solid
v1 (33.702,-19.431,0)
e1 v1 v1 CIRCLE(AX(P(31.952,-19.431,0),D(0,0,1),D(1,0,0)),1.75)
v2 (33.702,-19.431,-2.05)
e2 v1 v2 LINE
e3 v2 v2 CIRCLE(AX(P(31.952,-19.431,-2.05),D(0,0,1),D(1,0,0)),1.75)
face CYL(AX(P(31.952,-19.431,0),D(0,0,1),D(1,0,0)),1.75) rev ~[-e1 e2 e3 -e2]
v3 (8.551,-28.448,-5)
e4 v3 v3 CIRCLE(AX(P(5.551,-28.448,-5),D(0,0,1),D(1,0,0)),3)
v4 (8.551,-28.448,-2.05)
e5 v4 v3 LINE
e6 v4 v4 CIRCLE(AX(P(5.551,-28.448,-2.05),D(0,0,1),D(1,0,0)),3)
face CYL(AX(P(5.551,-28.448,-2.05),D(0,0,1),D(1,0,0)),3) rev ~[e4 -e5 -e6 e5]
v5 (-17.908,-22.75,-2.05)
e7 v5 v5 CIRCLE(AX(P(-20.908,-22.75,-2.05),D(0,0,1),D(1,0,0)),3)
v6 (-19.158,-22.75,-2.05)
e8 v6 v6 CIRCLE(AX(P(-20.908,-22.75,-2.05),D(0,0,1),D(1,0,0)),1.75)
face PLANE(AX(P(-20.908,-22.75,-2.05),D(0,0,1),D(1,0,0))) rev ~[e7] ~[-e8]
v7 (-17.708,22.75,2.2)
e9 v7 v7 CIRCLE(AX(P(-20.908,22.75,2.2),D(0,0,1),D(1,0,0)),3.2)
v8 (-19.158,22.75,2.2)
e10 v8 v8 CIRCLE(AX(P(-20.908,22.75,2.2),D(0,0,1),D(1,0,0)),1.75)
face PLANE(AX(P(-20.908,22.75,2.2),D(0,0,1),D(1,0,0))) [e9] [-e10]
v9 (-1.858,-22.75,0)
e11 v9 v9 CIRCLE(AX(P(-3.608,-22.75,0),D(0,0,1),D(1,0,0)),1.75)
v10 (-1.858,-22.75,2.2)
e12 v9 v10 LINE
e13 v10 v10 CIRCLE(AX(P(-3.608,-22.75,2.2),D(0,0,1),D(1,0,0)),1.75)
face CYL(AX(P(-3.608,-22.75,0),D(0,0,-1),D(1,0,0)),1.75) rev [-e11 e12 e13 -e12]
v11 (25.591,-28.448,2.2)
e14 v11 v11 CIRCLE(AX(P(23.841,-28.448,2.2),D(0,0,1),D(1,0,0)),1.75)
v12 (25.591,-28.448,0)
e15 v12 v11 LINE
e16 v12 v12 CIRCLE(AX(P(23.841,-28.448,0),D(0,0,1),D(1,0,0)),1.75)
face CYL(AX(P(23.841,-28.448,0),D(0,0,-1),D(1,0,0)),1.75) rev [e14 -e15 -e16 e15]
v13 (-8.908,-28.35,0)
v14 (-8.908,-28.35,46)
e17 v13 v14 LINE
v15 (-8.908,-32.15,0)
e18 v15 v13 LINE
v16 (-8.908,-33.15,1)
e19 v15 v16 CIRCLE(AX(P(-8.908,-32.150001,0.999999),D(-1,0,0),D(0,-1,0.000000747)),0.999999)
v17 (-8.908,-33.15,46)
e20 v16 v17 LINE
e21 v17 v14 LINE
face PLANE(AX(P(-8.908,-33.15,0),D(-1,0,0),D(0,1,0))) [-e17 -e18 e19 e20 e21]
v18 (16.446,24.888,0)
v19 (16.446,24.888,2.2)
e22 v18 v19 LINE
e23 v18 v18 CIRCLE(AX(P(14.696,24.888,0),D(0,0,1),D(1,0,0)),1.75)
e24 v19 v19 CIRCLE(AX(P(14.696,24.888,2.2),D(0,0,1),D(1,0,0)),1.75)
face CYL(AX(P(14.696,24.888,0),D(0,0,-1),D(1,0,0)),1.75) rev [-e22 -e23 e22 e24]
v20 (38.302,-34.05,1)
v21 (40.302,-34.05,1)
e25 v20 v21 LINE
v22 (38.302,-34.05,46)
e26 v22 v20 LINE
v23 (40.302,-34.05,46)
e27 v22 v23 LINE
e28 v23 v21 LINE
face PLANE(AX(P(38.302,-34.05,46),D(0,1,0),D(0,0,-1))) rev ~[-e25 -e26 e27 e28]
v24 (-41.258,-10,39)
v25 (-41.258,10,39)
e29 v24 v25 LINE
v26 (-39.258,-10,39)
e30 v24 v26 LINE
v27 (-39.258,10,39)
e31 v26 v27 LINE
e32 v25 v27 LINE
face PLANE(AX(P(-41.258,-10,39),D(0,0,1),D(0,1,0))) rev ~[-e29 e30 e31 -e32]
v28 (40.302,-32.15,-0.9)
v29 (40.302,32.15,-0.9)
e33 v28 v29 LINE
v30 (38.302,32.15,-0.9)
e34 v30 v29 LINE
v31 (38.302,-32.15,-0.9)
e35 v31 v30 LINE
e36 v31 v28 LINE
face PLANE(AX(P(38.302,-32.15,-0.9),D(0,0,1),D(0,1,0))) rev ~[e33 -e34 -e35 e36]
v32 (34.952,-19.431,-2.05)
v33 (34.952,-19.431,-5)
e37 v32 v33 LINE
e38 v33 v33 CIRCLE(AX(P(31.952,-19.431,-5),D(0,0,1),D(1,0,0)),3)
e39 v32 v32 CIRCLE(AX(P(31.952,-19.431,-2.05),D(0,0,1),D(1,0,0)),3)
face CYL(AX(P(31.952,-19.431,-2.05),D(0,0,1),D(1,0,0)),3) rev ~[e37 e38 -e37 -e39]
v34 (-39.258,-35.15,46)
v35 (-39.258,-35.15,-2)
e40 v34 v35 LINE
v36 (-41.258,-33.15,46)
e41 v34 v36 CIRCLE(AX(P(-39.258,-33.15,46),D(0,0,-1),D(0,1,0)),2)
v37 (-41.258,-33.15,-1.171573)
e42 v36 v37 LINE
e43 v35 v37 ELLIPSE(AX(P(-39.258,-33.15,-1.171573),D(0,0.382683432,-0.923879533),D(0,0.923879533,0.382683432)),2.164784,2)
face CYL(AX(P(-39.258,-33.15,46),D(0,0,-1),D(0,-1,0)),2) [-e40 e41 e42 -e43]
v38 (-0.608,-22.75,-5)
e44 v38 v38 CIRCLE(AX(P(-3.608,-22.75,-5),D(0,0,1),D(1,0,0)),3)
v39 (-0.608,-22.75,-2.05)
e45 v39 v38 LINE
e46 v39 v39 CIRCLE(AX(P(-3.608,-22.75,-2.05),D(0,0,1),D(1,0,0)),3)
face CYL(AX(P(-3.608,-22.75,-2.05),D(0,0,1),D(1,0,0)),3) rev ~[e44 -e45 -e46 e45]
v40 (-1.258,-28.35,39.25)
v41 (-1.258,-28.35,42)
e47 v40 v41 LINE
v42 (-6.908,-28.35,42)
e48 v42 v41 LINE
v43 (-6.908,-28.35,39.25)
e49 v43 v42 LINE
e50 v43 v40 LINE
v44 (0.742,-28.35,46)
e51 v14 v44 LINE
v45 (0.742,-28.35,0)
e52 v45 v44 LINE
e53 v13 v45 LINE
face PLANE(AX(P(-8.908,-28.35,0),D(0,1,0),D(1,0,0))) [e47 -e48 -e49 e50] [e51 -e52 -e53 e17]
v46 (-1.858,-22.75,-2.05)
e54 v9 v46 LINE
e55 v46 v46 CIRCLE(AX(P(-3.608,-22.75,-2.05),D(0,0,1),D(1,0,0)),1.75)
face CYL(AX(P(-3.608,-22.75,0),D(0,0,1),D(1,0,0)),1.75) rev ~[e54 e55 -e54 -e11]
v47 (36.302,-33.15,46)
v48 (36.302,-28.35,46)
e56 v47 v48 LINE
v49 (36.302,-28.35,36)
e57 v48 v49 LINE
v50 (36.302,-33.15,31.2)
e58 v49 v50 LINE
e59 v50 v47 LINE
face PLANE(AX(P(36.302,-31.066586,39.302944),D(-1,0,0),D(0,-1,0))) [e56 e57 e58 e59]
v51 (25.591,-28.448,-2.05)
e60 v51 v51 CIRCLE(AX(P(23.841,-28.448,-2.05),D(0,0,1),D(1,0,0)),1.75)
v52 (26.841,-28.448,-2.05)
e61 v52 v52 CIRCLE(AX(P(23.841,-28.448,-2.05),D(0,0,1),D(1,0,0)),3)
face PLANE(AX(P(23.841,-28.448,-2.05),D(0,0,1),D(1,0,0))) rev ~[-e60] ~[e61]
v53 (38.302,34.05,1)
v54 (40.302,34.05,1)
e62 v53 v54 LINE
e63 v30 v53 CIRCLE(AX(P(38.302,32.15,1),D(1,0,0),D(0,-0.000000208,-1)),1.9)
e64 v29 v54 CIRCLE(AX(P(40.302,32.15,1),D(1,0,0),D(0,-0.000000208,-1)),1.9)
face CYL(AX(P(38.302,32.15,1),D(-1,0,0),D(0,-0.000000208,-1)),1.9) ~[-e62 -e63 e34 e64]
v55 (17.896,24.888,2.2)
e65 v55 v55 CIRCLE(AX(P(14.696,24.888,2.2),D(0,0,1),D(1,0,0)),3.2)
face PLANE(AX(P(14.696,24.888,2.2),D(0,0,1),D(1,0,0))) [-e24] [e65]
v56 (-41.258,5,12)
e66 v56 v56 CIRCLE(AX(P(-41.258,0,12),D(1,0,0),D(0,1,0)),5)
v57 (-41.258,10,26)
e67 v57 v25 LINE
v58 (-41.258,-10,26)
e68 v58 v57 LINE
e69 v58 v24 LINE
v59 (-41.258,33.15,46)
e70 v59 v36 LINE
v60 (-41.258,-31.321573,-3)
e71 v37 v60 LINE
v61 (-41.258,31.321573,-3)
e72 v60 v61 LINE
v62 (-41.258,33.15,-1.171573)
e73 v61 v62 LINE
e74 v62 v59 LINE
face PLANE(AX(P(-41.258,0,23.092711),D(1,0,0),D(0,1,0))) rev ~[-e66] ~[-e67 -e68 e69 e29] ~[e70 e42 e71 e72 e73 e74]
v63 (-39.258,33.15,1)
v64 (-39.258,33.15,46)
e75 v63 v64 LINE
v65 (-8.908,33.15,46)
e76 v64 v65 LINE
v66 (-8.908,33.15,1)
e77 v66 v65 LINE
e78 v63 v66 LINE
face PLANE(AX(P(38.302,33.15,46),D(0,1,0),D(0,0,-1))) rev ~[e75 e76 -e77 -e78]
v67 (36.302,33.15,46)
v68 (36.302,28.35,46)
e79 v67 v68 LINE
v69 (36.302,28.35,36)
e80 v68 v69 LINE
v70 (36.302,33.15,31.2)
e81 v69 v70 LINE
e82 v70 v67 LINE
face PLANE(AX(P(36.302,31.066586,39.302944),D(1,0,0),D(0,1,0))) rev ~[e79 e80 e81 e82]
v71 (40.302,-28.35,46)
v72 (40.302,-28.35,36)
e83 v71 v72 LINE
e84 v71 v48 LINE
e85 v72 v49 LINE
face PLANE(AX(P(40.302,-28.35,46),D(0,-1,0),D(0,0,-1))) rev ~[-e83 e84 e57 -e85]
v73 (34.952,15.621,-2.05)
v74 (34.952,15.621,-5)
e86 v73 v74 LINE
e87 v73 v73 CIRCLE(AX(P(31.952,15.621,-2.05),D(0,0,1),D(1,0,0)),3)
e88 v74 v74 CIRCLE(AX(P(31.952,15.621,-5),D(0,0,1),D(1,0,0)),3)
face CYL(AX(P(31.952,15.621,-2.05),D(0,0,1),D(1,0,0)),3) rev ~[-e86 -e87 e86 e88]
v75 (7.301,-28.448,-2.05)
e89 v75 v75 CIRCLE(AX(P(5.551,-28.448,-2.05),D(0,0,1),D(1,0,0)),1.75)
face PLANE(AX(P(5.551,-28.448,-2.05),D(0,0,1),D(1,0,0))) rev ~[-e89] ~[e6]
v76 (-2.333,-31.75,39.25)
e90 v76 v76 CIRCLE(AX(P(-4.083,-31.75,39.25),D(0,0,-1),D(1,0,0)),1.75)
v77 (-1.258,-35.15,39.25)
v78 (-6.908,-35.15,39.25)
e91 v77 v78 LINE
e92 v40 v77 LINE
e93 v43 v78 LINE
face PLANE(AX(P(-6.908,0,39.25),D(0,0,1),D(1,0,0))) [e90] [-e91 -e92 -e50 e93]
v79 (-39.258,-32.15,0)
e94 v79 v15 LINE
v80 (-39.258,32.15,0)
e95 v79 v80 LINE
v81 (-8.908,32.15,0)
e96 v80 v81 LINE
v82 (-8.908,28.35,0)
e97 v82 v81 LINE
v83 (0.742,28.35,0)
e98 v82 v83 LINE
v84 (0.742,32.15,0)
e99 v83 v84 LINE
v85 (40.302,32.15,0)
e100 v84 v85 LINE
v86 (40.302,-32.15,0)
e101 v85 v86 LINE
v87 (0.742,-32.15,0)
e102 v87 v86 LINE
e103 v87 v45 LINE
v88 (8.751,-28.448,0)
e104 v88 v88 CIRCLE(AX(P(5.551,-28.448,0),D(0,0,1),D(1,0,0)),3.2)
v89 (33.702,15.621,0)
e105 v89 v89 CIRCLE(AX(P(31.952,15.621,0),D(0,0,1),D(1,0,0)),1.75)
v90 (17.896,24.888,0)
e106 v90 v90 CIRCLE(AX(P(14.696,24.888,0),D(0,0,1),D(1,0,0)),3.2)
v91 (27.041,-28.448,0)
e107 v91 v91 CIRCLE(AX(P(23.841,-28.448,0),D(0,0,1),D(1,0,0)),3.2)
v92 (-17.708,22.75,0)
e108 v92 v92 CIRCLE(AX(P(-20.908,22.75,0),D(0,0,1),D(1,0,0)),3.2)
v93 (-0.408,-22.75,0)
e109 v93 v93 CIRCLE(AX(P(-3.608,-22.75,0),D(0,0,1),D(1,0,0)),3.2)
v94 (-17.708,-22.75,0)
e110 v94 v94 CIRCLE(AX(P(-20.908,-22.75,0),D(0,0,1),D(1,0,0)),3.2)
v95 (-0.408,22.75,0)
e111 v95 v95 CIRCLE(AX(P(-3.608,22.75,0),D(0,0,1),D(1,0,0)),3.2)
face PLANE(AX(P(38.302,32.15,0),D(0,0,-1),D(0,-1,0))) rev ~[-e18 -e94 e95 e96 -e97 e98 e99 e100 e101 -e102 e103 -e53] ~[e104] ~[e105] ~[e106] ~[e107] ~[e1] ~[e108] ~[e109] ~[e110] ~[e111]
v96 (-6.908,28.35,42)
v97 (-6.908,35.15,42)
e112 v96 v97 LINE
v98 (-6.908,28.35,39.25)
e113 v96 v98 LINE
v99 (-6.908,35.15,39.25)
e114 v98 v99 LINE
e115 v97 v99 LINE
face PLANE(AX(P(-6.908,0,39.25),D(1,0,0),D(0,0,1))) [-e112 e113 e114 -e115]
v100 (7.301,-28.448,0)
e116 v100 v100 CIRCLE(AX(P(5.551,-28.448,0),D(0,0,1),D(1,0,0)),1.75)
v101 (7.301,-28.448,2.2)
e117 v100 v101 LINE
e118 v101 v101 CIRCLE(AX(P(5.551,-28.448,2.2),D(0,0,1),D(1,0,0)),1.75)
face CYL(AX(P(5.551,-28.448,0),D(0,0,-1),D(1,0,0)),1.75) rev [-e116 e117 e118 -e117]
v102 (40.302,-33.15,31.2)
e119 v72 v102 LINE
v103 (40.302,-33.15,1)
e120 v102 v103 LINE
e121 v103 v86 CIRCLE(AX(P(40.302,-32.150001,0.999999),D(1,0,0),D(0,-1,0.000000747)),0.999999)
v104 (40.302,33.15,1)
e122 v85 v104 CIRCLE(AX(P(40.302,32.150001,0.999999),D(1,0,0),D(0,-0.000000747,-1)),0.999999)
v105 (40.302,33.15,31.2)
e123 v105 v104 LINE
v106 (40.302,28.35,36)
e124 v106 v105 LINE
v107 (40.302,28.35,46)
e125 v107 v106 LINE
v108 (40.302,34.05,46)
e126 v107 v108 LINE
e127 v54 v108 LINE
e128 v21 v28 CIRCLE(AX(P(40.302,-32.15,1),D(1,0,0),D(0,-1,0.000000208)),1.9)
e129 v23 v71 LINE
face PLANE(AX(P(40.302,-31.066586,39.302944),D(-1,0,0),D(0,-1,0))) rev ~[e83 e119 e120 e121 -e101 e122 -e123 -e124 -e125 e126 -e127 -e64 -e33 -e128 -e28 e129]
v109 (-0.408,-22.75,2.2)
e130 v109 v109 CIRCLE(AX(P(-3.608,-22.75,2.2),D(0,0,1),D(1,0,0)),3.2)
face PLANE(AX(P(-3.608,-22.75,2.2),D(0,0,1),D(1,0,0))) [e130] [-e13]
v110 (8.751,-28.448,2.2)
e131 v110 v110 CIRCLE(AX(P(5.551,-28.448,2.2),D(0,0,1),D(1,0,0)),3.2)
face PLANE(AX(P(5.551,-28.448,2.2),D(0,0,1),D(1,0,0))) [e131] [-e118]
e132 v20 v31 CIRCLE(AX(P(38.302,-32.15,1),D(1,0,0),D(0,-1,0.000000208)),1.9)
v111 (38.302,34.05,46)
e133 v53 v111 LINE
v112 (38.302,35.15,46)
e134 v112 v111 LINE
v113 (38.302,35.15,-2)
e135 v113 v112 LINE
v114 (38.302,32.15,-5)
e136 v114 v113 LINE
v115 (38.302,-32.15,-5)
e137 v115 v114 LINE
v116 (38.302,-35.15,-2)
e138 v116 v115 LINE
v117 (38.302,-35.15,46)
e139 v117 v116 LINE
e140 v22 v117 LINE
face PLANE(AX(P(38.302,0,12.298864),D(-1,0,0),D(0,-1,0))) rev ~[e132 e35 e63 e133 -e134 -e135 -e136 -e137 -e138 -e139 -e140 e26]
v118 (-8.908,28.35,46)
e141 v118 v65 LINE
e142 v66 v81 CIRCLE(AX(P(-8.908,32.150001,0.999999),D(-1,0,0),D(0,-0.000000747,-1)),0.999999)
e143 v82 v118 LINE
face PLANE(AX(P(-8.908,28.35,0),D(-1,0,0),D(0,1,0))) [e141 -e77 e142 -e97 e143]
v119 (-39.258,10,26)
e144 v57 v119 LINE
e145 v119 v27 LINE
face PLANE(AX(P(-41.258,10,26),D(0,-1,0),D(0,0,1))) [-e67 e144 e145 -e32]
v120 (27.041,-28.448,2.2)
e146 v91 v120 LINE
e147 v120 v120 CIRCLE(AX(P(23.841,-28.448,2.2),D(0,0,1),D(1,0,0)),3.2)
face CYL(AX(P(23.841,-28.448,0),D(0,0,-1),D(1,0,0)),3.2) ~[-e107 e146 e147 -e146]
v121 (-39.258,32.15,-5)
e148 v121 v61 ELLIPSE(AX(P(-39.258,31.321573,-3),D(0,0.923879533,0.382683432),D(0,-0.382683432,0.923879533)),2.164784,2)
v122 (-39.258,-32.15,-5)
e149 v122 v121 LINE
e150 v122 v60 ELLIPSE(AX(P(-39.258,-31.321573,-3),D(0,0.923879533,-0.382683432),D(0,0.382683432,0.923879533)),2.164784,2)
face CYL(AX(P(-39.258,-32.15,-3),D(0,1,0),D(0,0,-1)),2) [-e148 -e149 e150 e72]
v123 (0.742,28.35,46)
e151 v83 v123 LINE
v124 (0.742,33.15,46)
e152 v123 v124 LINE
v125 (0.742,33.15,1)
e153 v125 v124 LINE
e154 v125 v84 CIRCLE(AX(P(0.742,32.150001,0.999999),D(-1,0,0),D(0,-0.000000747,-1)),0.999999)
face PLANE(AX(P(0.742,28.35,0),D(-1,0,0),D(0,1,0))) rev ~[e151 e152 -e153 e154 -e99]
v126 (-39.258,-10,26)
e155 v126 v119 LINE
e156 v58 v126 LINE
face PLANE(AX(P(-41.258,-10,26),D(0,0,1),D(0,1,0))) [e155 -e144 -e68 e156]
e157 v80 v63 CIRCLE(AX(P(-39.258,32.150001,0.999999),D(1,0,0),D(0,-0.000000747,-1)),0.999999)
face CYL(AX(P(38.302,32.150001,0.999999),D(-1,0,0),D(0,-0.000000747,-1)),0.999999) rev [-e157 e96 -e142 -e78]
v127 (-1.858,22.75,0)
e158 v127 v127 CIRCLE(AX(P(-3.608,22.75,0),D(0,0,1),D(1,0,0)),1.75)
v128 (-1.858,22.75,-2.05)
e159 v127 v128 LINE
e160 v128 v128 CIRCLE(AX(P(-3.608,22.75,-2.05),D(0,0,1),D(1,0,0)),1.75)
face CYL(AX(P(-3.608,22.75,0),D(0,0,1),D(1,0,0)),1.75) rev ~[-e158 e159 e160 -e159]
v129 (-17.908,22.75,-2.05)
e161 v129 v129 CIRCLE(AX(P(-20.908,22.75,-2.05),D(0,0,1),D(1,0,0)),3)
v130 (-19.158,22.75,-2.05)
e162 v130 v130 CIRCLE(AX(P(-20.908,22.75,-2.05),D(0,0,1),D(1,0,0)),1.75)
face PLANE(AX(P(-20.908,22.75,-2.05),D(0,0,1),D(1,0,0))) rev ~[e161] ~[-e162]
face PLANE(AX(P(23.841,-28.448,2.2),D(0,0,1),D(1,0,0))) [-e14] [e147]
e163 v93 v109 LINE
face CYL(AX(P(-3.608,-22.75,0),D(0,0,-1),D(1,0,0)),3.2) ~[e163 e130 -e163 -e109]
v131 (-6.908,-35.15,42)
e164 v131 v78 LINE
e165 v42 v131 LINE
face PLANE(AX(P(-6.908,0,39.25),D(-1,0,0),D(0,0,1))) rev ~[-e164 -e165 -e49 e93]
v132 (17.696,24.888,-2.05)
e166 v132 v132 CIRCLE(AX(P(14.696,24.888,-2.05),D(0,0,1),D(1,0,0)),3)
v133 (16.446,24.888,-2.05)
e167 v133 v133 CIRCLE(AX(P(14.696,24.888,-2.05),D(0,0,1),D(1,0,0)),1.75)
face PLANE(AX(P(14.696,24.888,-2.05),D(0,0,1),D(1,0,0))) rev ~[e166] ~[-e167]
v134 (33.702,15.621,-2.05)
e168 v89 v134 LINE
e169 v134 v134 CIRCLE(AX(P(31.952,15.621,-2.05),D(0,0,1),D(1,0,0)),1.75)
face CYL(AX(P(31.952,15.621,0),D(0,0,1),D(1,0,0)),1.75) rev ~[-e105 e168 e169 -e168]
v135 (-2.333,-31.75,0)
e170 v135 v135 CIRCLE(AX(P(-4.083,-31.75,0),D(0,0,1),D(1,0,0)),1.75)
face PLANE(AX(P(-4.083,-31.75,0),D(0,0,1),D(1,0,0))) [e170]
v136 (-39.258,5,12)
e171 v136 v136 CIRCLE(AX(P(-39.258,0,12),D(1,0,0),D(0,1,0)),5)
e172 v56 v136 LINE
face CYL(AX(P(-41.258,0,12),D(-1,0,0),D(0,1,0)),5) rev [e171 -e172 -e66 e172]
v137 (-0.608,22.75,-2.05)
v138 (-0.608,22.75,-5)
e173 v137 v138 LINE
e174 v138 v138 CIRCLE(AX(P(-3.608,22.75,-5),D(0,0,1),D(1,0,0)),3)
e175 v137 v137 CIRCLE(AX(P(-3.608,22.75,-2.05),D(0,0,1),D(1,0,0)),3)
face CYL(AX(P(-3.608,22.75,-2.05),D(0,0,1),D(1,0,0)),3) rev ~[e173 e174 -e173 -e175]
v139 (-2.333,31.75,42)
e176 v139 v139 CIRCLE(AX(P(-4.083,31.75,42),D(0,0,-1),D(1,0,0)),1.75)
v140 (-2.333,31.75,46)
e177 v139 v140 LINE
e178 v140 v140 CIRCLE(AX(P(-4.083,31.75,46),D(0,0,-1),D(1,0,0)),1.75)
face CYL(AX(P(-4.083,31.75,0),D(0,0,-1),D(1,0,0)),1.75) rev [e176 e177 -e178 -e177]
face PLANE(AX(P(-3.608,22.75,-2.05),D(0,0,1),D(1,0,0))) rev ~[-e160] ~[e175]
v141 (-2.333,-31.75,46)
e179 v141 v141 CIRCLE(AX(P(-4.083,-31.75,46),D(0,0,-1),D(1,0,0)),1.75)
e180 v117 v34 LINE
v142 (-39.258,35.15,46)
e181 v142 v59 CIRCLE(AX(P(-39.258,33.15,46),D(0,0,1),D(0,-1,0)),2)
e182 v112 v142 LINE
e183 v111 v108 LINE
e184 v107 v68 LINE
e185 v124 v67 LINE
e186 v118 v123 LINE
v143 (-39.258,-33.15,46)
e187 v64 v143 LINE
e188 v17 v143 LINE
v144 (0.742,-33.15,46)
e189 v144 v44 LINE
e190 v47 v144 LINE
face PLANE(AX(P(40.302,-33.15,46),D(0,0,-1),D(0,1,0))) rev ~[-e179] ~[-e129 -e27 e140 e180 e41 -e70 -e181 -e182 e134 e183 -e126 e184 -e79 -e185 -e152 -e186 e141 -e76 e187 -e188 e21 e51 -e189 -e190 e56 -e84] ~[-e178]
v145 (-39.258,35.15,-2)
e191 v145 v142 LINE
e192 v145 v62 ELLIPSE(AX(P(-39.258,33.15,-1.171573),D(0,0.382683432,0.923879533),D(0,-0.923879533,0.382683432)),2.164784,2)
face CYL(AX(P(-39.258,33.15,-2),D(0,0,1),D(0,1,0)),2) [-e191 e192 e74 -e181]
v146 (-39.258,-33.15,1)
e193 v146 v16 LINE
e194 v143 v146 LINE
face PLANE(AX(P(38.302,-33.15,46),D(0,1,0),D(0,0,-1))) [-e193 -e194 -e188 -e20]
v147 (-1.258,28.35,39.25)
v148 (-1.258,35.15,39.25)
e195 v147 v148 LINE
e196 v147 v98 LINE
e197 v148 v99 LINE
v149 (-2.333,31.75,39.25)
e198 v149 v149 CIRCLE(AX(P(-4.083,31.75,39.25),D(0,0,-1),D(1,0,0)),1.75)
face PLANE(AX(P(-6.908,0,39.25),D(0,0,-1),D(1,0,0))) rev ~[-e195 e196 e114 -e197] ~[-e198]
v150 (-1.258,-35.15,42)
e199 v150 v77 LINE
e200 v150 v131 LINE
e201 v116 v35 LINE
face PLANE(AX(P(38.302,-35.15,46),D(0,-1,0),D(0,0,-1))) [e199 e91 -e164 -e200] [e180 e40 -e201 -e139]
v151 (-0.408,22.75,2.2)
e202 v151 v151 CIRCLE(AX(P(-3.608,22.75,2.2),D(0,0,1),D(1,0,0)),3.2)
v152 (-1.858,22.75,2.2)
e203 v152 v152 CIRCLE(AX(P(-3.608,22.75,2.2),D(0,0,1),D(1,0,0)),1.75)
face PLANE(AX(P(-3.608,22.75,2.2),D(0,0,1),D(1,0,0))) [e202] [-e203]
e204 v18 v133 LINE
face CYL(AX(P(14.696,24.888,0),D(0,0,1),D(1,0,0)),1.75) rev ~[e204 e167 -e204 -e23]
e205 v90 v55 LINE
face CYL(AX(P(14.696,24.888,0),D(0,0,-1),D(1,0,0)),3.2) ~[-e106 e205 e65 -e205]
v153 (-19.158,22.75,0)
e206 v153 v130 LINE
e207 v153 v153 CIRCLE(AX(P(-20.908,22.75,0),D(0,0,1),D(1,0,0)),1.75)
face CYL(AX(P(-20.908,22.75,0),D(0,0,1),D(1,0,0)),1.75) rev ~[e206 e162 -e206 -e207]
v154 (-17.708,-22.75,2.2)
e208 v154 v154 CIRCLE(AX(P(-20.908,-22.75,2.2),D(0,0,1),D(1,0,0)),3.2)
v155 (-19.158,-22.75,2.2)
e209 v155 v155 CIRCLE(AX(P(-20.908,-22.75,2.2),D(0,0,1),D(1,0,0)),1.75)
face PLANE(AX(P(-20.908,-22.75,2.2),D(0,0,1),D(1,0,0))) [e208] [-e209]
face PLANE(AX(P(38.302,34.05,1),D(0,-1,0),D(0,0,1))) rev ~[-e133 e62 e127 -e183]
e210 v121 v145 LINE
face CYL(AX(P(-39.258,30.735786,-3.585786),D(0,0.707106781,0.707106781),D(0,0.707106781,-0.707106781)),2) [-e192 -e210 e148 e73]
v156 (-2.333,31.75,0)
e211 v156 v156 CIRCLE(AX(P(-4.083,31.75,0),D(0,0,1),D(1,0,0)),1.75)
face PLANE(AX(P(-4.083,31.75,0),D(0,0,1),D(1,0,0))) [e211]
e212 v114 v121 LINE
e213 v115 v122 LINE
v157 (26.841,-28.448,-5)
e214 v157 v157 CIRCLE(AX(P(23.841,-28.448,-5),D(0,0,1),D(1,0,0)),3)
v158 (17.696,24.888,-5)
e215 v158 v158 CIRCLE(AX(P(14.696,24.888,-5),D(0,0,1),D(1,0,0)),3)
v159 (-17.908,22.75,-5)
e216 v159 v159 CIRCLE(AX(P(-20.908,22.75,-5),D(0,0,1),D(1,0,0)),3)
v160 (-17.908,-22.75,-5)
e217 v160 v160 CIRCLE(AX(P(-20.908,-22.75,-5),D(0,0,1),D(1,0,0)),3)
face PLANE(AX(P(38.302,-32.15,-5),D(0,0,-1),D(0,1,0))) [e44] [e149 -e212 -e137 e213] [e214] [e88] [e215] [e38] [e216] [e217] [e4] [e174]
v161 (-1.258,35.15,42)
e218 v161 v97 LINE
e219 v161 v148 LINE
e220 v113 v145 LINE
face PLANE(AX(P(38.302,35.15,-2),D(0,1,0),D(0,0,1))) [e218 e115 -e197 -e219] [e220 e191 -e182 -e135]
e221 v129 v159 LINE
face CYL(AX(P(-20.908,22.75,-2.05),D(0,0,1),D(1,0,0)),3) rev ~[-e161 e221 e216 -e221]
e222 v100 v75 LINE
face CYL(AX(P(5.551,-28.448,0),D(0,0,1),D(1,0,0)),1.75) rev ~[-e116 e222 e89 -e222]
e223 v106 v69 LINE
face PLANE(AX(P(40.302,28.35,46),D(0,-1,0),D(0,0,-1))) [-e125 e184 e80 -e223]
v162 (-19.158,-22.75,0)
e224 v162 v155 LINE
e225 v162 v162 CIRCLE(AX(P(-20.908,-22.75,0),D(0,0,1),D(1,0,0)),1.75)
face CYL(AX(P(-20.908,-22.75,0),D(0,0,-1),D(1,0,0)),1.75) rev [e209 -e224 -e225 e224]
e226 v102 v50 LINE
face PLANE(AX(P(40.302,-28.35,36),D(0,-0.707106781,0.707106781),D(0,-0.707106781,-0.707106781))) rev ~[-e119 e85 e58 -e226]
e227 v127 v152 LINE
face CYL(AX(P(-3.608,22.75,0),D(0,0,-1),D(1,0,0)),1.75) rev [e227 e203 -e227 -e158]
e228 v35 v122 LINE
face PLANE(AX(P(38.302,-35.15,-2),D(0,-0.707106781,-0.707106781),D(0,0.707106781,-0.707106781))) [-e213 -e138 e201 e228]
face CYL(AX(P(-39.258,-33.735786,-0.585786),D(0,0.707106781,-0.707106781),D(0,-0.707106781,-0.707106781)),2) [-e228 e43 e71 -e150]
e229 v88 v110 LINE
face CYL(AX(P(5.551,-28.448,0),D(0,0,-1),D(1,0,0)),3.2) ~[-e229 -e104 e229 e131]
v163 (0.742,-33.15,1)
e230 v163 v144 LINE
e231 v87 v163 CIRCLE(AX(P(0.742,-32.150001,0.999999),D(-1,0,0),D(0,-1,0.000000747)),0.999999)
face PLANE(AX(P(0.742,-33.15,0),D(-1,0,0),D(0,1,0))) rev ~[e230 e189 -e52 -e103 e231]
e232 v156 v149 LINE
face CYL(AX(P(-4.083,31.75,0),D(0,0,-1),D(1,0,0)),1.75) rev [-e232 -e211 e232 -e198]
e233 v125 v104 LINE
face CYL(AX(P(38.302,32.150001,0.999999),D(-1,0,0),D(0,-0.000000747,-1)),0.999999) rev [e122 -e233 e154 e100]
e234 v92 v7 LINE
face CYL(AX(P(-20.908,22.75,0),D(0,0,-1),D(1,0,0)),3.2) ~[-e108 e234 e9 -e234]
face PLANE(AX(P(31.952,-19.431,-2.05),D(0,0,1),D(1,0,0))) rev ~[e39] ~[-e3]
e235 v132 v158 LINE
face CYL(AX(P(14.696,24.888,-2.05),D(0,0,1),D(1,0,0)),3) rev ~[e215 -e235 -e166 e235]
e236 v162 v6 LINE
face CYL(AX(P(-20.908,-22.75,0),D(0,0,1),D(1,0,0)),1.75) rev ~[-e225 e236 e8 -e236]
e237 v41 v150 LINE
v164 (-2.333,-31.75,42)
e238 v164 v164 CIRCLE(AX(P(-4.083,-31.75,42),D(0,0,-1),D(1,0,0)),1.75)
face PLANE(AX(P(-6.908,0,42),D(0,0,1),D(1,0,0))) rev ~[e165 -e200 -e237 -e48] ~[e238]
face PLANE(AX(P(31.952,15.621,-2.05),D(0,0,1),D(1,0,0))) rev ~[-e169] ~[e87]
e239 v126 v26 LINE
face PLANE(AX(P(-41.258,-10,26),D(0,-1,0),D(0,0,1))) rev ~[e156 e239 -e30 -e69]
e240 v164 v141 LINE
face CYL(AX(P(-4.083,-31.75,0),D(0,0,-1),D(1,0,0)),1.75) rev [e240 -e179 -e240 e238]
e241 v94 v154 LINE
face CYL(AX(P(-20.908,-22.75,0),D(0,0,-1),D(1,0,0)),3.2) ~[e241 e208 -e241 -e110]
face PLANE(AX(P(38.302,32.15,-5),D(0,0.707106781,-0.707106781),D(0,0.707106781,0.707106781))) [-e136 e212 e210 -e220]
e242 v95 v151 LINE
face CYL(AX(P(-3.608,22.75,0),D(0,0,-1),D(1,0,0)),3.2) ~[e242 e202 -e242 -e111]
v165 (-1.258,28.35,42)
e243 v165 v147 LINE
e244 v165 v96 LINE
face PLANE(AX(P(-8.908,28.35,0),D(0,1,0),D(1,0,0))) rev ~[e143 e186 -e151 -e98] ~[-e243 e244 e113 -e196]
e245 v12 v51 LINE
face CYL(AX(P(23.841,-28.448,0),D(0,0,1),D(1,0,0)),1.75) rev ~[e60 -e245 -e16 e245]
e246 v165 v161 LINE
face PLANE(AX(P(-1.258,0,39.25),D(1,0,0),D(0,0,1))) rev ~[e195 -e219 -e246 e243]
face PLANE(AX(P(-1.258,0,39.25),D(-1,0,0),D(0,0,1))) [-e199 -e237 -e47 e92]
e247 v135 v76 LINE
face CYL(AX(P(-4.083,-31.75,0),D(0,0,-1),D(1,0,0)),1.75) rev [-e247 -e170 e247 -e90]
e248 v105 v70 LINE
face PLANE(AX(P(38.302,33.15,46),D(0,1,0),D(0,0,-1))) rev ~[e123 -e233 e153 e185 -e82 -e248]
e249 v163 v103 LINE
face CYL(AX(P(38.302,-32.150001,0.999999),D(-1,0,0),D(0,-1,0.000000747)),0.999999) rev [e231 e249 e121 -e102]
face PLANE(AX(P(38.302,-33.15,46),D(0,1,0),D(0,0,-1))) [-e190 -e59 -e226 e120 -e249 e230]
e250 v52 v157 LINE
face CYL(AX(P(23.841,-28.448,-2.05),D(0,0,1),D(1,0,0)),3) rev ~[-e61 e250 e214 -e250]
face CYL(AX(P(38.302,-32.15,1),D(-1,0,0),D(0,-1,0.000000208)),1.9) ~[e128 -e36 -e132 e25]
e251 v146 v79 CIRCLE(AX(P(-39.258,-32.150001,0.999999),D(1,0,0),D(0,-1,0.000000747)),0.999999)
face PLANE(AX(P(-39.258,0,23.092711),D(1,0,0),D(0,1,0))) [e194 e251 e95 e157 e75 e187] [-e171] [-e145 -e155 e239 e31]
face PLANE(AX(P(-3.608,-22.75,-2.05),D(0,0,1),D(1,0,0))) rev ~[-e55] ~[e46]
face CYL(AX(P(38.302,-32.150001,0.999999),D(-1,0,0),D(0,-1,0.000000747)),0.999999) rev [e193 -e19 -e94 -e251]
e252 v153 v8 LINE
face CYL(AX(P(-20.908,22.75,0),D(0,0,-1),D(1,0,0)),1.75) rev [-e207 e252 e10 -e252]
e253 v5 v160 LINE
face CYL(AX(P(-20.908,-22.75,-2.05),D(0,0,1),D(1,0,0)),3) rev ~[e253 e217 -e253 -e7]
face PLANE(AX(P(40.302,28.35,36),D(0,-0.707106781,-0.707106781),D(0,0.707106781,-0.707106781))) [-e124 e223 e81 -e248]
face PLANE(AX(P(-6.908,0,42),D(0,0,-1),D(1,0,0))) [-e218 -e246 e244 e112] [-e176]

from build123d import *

# Parameters (mm, degrees)
PAD044_DEPTH         = 79.56
PAD045_DEPTH         = 2
SKETCH132_R          = 5
SKETCH132_W          = 20
SKETCH132_H          = 13
PAD046_DEPTH         = 2
FILLET011_R          = 2
SKETCH133_W          = 9.65
SKETCH133_H          = 4.8
PAD047_DEPTH         = 46
SKETCH134_R          = 1.75
POCKET055_DEPTH      = 46.001
SKETCH135_R          = 1.75
POCKET056_DEPTH      = 5.001
SKETCH136_R          = 3
POCKET057_DEPTH      = 2.951
SKETCH137_R          = 3.2
SKETCH137_R_2        = 1.75
PAD048_DEPTH         = 2.2
SKETCH138_W          = 5.65
SKETCH138_H          = 2.75
POCKET058_DEPTH      = 35.151
POCKET058_DEPTH_BACK = 35.151
PAD049_DEPTH         = 4


with BuildPart() as part:
    # Sketch130 → Pad044 (new body)
    with BuildSketch(Plane.YZ.offset(38.302)):
        with BuildLine():
            ThreePointArc((-33.15, 1), (-32.857107, 0.292893), (-32.15, 0))
            Line((32.15, 0), (-32.15, 0))
            ThreePointArc((32.15, 0), (32.857107, 0.292893), (33.15, 1))
            Line((33.15, 46), (33.15, 1))
            Line((35.15, 46), (33.15, 46))
            Line((35.15, -2), (35.15, 46))
            Line((32.15, -5), (35.15, -2))
            Line((-32.15, -5), (32.15, -5))
            Line((-35.15, -2), (-32.15, -5))
            Line((-35.15, 46), (-35.15, -2))
            Line((-33.15, 46), (-35.15, 46))
            Line((-33.15, 1), (-33.15, 46))
        make_face()
    extrude(amount=-PAD044_DEPTH)

    # Sketch131 → Pad045 (join)
    with BuildSketch(Plane.YZ.offset(38.302)):
        with BuildLine():
            ThreePointArc((-34.05, 1), (-33.493503, -0.343503), (-32.15, -0.9))
            Line((-32.15, -0.9), (32.15, -0.9))
            ThreePointArc((32.15, -0.9), (33.493503, -0.343503), (34.05, 1))
            Line((34.05, 1), (34.05, 46))
            Line((34.05, 46), (33.15, 46))
            Line((33.15, 46), (33.15, 1))
            ThreePointArc((32.15, 0), (32.857107, 0.292893), (33.15, 1))
            Line((32.15, 0), (-32.15, 0))
            ThreePointArc((-33.15, 1), (-32.857107, 0.292893), (-32.15, 0))
            Line((-33.15, 46), (-33.15, 1))
            Line((-34.05, 46), (-33.15, 46))
            Line((-34.05, 46), (-34.05, 1))
        make_face()
    extrude(amount=PAD045_DEPTH)

    # Sketch132 → Pad046 (join)
    with BuildSketch(Plane.YZ.offset(-41.258)):
        with BuildLine():
            ThreePointArc((-33.15, 1), (-32.857107, 0.292893), (-32.15, 0))
            Line((-32.15, 0), (32.15, 0))
            ThreePointArc((32.15, 0), (32.857107, 0.292893), (33.15, 1))
            Line((33.15, 1), (33.15, 46))
            Line((33.15, 46), (-33.15, 46))
            Line((-33.15, 46), (-33.15, 1))
        make_face()
        with Locations((0, 12)):
            Circle(SKETCH132_R, mode=Mode.SUBTRACT)
        with Locations((0, 32.5)):
            Rectangle(SKETCH132_W, SKETCH132_H, mode=Mode.SUBTRACT)
    extrude(amount=PAD046_DEPTH)

    # Fillet011
    fillet011_edges = [part.edges().sort_by_distance(p)[0] for p in [
        (-41.258, 35.15, 22),
        (-41.258, 33.65, -3.5),
        (-41.258, 0, -5),
        (-41.258, -33.65, -3.5),
        (-41.258, -35.15, 22),
    ]]
    fillet(fillet011_edges, radius=FILLET011_R)

    # Sketch133 → Pad047 (join)
    with BuildSketch(Plane.XY):
        with Locations((-4.083, 30.75)):
            Rectangle(SKETCH133_W, SKETCH133_H)
        with Locations((-4.083, -30.75)):
            Rectangle(SKETCH133_W, SKETCH133_H)
    extrude(amount=PAD047_DEPTH)

    # Sketch134 → Pocket055 (cut, through all)
    with BuildSketch(Plane.XY):
        with Locations((-4.083, 31.75)):
            Circle(SKETCH134_R)
        with Locations((-4.083, -31.75)):
            Circle(SKETCH134_R)
    extrude(amount=POCKET055_DEPTH, mode=Mode.SUBTRACT)

    # Sketch135 → Pocket056 (cut, through all)
    with BuildSketch(Plane.XY):
        with Locations((-20.908, 22.75)):
            Circle(SKETCH135_R)
        with Locations((-3.608, 22.75)):
            Circle(SKETCH135_R)
        with Locations((14.696, 24.888)):
            Circle(SKETCH135_R)
        with Locations((31.952, 15.621)):
            Circle(SKETCH135_R)
        with Locations((31.952, -19.431)):
            Circle(SKETCH135_R)
        with Locations((23.841, -28.448)):
            Circle(SKETCH135_R)
        with Locations((5.551, -28.448)):
            Circle(SKETCH135_R)
        with Locations((-3.608, -22.75)):
            Circle(SKETCH135_R)
        with Locations((-20.908, -22.75)):
            Circle(SKETCH135_R)
    extrude(amount=-POCKET056_DEPTH, mode=Mode.SUBTRACT)

    # Sketch136 → Pocket057 (cut, through all)
    with BuildSketch(Plane.XY.offset(-2.05)):
        with Locations((-20.908, 22.75)):
            Circle(SKETCH136_R)
        with Locations((-3.608, 22.75)):
            Circle(SKETCH136_R)
        with Locations((14.696, 24.888)):
            Circle(SKETCH136_R)
        with Locations((31.952, 15.621)):
            Circle(SKETCH136_R)
        with Locations((31.952, -19.431)):
            Circle(SKETCH136_R)
        with Locations((23.841, -28.448)):
            Circle(SKETCH136_R)
        with Locations((5.551, -28.448)):
            Circle(SKETCH136_R)
        with Locations((-3.608, -22.75)):
            Circle(SKETCH136_R)
        with Locations((-20.908, -22.75)):
            Circle(SKETCH136_R)
    extrude(amount=-POCKET057_DEPTH, mode=Mode.SUBTRACT)

    # Sketch137 → Pad048 (join)
    with BuildSketch(Plane.XY):
        with Locations((-20.908, 22.75)):
            Circle(SKETCH137_R)
        with Locations((-20.908, 22.75)):
            Circle(SKETCH137_R_2, mode=Mode.SUBTRACT)
        with Locations((-3.608, 22.75)):
            Circle(SKETCH137_R)
        with Locations((-3.608, 22.75)):
            Circle(SKETCH137_R_2, mode=Mode.SUBTRACT)
        with Locations((14.696, 24.888)):
            Circle(SKETCH137_R)
        with Locations((14.696, 24.888)):
            Circle(SKETCH137_R_2, mode=Mode.SUBTRACT)
        with Locations((23.841, -28.448)):
            Circle(SKETCH137_R)
        with Locations((23.841, -28.448)):
            Circle(SKETCH137_R_2, mode=Mode.SUBTRACT)
        with Locations((5.551, -28.448)):
            Circle(SKETCH137_R)
        with Locations((5.551, -28.448)):
            Circle(SKETCH137_R_2, mode=Mode.SUBTRACT)
        with Locations((-3.608, -22.75)):
            Circle(SKETCH137_R)
        with Locations((-3.608, -22.75)):
            Circle(SKETCH137_R_2, mode=Mode.SUBTRACT)
        with Locations((-20.908, -22.75)):
            Circle(SKETCH137_R)
        with Locations((-20.908, -22.75)):
            Circle(SKETCH137_R_2, mode=Mode.SUBTRACT)
    extrude(amount=PAD048_DEPTH)

    # Sketch138 → Pocket058 (cut, two sides)
    with BuildSketch(Plane.XZ) as pocket058_sk:
        with Locations((-4.083, 40.625)):
            Rectangle(SKETCH138_W, SKETCH138_H)
    extrude(amount=-POCKET058_DEPTH, mode=Mode.SUBTRACT)
    extrude(pocket058_sk.sketch, amount=POCKET058_DEPTH_BACK, mode=Mode.SUBTRACT)

    # Sketch139 → Pad049 (join)
    with BuildSketch(Plane.YZ.offset(40.302)):
        Polygon((-33.15, 46), (-28.35, 46), (-28.35, 36), (-33.15, 31.2), align=None)
        Polygon((33.15, 46), (28.35, 46), (28.35, 36), (33.15, 31.2), align=None)
    extrude(amount=-PAD049_DEPTH)


solid = part.part
